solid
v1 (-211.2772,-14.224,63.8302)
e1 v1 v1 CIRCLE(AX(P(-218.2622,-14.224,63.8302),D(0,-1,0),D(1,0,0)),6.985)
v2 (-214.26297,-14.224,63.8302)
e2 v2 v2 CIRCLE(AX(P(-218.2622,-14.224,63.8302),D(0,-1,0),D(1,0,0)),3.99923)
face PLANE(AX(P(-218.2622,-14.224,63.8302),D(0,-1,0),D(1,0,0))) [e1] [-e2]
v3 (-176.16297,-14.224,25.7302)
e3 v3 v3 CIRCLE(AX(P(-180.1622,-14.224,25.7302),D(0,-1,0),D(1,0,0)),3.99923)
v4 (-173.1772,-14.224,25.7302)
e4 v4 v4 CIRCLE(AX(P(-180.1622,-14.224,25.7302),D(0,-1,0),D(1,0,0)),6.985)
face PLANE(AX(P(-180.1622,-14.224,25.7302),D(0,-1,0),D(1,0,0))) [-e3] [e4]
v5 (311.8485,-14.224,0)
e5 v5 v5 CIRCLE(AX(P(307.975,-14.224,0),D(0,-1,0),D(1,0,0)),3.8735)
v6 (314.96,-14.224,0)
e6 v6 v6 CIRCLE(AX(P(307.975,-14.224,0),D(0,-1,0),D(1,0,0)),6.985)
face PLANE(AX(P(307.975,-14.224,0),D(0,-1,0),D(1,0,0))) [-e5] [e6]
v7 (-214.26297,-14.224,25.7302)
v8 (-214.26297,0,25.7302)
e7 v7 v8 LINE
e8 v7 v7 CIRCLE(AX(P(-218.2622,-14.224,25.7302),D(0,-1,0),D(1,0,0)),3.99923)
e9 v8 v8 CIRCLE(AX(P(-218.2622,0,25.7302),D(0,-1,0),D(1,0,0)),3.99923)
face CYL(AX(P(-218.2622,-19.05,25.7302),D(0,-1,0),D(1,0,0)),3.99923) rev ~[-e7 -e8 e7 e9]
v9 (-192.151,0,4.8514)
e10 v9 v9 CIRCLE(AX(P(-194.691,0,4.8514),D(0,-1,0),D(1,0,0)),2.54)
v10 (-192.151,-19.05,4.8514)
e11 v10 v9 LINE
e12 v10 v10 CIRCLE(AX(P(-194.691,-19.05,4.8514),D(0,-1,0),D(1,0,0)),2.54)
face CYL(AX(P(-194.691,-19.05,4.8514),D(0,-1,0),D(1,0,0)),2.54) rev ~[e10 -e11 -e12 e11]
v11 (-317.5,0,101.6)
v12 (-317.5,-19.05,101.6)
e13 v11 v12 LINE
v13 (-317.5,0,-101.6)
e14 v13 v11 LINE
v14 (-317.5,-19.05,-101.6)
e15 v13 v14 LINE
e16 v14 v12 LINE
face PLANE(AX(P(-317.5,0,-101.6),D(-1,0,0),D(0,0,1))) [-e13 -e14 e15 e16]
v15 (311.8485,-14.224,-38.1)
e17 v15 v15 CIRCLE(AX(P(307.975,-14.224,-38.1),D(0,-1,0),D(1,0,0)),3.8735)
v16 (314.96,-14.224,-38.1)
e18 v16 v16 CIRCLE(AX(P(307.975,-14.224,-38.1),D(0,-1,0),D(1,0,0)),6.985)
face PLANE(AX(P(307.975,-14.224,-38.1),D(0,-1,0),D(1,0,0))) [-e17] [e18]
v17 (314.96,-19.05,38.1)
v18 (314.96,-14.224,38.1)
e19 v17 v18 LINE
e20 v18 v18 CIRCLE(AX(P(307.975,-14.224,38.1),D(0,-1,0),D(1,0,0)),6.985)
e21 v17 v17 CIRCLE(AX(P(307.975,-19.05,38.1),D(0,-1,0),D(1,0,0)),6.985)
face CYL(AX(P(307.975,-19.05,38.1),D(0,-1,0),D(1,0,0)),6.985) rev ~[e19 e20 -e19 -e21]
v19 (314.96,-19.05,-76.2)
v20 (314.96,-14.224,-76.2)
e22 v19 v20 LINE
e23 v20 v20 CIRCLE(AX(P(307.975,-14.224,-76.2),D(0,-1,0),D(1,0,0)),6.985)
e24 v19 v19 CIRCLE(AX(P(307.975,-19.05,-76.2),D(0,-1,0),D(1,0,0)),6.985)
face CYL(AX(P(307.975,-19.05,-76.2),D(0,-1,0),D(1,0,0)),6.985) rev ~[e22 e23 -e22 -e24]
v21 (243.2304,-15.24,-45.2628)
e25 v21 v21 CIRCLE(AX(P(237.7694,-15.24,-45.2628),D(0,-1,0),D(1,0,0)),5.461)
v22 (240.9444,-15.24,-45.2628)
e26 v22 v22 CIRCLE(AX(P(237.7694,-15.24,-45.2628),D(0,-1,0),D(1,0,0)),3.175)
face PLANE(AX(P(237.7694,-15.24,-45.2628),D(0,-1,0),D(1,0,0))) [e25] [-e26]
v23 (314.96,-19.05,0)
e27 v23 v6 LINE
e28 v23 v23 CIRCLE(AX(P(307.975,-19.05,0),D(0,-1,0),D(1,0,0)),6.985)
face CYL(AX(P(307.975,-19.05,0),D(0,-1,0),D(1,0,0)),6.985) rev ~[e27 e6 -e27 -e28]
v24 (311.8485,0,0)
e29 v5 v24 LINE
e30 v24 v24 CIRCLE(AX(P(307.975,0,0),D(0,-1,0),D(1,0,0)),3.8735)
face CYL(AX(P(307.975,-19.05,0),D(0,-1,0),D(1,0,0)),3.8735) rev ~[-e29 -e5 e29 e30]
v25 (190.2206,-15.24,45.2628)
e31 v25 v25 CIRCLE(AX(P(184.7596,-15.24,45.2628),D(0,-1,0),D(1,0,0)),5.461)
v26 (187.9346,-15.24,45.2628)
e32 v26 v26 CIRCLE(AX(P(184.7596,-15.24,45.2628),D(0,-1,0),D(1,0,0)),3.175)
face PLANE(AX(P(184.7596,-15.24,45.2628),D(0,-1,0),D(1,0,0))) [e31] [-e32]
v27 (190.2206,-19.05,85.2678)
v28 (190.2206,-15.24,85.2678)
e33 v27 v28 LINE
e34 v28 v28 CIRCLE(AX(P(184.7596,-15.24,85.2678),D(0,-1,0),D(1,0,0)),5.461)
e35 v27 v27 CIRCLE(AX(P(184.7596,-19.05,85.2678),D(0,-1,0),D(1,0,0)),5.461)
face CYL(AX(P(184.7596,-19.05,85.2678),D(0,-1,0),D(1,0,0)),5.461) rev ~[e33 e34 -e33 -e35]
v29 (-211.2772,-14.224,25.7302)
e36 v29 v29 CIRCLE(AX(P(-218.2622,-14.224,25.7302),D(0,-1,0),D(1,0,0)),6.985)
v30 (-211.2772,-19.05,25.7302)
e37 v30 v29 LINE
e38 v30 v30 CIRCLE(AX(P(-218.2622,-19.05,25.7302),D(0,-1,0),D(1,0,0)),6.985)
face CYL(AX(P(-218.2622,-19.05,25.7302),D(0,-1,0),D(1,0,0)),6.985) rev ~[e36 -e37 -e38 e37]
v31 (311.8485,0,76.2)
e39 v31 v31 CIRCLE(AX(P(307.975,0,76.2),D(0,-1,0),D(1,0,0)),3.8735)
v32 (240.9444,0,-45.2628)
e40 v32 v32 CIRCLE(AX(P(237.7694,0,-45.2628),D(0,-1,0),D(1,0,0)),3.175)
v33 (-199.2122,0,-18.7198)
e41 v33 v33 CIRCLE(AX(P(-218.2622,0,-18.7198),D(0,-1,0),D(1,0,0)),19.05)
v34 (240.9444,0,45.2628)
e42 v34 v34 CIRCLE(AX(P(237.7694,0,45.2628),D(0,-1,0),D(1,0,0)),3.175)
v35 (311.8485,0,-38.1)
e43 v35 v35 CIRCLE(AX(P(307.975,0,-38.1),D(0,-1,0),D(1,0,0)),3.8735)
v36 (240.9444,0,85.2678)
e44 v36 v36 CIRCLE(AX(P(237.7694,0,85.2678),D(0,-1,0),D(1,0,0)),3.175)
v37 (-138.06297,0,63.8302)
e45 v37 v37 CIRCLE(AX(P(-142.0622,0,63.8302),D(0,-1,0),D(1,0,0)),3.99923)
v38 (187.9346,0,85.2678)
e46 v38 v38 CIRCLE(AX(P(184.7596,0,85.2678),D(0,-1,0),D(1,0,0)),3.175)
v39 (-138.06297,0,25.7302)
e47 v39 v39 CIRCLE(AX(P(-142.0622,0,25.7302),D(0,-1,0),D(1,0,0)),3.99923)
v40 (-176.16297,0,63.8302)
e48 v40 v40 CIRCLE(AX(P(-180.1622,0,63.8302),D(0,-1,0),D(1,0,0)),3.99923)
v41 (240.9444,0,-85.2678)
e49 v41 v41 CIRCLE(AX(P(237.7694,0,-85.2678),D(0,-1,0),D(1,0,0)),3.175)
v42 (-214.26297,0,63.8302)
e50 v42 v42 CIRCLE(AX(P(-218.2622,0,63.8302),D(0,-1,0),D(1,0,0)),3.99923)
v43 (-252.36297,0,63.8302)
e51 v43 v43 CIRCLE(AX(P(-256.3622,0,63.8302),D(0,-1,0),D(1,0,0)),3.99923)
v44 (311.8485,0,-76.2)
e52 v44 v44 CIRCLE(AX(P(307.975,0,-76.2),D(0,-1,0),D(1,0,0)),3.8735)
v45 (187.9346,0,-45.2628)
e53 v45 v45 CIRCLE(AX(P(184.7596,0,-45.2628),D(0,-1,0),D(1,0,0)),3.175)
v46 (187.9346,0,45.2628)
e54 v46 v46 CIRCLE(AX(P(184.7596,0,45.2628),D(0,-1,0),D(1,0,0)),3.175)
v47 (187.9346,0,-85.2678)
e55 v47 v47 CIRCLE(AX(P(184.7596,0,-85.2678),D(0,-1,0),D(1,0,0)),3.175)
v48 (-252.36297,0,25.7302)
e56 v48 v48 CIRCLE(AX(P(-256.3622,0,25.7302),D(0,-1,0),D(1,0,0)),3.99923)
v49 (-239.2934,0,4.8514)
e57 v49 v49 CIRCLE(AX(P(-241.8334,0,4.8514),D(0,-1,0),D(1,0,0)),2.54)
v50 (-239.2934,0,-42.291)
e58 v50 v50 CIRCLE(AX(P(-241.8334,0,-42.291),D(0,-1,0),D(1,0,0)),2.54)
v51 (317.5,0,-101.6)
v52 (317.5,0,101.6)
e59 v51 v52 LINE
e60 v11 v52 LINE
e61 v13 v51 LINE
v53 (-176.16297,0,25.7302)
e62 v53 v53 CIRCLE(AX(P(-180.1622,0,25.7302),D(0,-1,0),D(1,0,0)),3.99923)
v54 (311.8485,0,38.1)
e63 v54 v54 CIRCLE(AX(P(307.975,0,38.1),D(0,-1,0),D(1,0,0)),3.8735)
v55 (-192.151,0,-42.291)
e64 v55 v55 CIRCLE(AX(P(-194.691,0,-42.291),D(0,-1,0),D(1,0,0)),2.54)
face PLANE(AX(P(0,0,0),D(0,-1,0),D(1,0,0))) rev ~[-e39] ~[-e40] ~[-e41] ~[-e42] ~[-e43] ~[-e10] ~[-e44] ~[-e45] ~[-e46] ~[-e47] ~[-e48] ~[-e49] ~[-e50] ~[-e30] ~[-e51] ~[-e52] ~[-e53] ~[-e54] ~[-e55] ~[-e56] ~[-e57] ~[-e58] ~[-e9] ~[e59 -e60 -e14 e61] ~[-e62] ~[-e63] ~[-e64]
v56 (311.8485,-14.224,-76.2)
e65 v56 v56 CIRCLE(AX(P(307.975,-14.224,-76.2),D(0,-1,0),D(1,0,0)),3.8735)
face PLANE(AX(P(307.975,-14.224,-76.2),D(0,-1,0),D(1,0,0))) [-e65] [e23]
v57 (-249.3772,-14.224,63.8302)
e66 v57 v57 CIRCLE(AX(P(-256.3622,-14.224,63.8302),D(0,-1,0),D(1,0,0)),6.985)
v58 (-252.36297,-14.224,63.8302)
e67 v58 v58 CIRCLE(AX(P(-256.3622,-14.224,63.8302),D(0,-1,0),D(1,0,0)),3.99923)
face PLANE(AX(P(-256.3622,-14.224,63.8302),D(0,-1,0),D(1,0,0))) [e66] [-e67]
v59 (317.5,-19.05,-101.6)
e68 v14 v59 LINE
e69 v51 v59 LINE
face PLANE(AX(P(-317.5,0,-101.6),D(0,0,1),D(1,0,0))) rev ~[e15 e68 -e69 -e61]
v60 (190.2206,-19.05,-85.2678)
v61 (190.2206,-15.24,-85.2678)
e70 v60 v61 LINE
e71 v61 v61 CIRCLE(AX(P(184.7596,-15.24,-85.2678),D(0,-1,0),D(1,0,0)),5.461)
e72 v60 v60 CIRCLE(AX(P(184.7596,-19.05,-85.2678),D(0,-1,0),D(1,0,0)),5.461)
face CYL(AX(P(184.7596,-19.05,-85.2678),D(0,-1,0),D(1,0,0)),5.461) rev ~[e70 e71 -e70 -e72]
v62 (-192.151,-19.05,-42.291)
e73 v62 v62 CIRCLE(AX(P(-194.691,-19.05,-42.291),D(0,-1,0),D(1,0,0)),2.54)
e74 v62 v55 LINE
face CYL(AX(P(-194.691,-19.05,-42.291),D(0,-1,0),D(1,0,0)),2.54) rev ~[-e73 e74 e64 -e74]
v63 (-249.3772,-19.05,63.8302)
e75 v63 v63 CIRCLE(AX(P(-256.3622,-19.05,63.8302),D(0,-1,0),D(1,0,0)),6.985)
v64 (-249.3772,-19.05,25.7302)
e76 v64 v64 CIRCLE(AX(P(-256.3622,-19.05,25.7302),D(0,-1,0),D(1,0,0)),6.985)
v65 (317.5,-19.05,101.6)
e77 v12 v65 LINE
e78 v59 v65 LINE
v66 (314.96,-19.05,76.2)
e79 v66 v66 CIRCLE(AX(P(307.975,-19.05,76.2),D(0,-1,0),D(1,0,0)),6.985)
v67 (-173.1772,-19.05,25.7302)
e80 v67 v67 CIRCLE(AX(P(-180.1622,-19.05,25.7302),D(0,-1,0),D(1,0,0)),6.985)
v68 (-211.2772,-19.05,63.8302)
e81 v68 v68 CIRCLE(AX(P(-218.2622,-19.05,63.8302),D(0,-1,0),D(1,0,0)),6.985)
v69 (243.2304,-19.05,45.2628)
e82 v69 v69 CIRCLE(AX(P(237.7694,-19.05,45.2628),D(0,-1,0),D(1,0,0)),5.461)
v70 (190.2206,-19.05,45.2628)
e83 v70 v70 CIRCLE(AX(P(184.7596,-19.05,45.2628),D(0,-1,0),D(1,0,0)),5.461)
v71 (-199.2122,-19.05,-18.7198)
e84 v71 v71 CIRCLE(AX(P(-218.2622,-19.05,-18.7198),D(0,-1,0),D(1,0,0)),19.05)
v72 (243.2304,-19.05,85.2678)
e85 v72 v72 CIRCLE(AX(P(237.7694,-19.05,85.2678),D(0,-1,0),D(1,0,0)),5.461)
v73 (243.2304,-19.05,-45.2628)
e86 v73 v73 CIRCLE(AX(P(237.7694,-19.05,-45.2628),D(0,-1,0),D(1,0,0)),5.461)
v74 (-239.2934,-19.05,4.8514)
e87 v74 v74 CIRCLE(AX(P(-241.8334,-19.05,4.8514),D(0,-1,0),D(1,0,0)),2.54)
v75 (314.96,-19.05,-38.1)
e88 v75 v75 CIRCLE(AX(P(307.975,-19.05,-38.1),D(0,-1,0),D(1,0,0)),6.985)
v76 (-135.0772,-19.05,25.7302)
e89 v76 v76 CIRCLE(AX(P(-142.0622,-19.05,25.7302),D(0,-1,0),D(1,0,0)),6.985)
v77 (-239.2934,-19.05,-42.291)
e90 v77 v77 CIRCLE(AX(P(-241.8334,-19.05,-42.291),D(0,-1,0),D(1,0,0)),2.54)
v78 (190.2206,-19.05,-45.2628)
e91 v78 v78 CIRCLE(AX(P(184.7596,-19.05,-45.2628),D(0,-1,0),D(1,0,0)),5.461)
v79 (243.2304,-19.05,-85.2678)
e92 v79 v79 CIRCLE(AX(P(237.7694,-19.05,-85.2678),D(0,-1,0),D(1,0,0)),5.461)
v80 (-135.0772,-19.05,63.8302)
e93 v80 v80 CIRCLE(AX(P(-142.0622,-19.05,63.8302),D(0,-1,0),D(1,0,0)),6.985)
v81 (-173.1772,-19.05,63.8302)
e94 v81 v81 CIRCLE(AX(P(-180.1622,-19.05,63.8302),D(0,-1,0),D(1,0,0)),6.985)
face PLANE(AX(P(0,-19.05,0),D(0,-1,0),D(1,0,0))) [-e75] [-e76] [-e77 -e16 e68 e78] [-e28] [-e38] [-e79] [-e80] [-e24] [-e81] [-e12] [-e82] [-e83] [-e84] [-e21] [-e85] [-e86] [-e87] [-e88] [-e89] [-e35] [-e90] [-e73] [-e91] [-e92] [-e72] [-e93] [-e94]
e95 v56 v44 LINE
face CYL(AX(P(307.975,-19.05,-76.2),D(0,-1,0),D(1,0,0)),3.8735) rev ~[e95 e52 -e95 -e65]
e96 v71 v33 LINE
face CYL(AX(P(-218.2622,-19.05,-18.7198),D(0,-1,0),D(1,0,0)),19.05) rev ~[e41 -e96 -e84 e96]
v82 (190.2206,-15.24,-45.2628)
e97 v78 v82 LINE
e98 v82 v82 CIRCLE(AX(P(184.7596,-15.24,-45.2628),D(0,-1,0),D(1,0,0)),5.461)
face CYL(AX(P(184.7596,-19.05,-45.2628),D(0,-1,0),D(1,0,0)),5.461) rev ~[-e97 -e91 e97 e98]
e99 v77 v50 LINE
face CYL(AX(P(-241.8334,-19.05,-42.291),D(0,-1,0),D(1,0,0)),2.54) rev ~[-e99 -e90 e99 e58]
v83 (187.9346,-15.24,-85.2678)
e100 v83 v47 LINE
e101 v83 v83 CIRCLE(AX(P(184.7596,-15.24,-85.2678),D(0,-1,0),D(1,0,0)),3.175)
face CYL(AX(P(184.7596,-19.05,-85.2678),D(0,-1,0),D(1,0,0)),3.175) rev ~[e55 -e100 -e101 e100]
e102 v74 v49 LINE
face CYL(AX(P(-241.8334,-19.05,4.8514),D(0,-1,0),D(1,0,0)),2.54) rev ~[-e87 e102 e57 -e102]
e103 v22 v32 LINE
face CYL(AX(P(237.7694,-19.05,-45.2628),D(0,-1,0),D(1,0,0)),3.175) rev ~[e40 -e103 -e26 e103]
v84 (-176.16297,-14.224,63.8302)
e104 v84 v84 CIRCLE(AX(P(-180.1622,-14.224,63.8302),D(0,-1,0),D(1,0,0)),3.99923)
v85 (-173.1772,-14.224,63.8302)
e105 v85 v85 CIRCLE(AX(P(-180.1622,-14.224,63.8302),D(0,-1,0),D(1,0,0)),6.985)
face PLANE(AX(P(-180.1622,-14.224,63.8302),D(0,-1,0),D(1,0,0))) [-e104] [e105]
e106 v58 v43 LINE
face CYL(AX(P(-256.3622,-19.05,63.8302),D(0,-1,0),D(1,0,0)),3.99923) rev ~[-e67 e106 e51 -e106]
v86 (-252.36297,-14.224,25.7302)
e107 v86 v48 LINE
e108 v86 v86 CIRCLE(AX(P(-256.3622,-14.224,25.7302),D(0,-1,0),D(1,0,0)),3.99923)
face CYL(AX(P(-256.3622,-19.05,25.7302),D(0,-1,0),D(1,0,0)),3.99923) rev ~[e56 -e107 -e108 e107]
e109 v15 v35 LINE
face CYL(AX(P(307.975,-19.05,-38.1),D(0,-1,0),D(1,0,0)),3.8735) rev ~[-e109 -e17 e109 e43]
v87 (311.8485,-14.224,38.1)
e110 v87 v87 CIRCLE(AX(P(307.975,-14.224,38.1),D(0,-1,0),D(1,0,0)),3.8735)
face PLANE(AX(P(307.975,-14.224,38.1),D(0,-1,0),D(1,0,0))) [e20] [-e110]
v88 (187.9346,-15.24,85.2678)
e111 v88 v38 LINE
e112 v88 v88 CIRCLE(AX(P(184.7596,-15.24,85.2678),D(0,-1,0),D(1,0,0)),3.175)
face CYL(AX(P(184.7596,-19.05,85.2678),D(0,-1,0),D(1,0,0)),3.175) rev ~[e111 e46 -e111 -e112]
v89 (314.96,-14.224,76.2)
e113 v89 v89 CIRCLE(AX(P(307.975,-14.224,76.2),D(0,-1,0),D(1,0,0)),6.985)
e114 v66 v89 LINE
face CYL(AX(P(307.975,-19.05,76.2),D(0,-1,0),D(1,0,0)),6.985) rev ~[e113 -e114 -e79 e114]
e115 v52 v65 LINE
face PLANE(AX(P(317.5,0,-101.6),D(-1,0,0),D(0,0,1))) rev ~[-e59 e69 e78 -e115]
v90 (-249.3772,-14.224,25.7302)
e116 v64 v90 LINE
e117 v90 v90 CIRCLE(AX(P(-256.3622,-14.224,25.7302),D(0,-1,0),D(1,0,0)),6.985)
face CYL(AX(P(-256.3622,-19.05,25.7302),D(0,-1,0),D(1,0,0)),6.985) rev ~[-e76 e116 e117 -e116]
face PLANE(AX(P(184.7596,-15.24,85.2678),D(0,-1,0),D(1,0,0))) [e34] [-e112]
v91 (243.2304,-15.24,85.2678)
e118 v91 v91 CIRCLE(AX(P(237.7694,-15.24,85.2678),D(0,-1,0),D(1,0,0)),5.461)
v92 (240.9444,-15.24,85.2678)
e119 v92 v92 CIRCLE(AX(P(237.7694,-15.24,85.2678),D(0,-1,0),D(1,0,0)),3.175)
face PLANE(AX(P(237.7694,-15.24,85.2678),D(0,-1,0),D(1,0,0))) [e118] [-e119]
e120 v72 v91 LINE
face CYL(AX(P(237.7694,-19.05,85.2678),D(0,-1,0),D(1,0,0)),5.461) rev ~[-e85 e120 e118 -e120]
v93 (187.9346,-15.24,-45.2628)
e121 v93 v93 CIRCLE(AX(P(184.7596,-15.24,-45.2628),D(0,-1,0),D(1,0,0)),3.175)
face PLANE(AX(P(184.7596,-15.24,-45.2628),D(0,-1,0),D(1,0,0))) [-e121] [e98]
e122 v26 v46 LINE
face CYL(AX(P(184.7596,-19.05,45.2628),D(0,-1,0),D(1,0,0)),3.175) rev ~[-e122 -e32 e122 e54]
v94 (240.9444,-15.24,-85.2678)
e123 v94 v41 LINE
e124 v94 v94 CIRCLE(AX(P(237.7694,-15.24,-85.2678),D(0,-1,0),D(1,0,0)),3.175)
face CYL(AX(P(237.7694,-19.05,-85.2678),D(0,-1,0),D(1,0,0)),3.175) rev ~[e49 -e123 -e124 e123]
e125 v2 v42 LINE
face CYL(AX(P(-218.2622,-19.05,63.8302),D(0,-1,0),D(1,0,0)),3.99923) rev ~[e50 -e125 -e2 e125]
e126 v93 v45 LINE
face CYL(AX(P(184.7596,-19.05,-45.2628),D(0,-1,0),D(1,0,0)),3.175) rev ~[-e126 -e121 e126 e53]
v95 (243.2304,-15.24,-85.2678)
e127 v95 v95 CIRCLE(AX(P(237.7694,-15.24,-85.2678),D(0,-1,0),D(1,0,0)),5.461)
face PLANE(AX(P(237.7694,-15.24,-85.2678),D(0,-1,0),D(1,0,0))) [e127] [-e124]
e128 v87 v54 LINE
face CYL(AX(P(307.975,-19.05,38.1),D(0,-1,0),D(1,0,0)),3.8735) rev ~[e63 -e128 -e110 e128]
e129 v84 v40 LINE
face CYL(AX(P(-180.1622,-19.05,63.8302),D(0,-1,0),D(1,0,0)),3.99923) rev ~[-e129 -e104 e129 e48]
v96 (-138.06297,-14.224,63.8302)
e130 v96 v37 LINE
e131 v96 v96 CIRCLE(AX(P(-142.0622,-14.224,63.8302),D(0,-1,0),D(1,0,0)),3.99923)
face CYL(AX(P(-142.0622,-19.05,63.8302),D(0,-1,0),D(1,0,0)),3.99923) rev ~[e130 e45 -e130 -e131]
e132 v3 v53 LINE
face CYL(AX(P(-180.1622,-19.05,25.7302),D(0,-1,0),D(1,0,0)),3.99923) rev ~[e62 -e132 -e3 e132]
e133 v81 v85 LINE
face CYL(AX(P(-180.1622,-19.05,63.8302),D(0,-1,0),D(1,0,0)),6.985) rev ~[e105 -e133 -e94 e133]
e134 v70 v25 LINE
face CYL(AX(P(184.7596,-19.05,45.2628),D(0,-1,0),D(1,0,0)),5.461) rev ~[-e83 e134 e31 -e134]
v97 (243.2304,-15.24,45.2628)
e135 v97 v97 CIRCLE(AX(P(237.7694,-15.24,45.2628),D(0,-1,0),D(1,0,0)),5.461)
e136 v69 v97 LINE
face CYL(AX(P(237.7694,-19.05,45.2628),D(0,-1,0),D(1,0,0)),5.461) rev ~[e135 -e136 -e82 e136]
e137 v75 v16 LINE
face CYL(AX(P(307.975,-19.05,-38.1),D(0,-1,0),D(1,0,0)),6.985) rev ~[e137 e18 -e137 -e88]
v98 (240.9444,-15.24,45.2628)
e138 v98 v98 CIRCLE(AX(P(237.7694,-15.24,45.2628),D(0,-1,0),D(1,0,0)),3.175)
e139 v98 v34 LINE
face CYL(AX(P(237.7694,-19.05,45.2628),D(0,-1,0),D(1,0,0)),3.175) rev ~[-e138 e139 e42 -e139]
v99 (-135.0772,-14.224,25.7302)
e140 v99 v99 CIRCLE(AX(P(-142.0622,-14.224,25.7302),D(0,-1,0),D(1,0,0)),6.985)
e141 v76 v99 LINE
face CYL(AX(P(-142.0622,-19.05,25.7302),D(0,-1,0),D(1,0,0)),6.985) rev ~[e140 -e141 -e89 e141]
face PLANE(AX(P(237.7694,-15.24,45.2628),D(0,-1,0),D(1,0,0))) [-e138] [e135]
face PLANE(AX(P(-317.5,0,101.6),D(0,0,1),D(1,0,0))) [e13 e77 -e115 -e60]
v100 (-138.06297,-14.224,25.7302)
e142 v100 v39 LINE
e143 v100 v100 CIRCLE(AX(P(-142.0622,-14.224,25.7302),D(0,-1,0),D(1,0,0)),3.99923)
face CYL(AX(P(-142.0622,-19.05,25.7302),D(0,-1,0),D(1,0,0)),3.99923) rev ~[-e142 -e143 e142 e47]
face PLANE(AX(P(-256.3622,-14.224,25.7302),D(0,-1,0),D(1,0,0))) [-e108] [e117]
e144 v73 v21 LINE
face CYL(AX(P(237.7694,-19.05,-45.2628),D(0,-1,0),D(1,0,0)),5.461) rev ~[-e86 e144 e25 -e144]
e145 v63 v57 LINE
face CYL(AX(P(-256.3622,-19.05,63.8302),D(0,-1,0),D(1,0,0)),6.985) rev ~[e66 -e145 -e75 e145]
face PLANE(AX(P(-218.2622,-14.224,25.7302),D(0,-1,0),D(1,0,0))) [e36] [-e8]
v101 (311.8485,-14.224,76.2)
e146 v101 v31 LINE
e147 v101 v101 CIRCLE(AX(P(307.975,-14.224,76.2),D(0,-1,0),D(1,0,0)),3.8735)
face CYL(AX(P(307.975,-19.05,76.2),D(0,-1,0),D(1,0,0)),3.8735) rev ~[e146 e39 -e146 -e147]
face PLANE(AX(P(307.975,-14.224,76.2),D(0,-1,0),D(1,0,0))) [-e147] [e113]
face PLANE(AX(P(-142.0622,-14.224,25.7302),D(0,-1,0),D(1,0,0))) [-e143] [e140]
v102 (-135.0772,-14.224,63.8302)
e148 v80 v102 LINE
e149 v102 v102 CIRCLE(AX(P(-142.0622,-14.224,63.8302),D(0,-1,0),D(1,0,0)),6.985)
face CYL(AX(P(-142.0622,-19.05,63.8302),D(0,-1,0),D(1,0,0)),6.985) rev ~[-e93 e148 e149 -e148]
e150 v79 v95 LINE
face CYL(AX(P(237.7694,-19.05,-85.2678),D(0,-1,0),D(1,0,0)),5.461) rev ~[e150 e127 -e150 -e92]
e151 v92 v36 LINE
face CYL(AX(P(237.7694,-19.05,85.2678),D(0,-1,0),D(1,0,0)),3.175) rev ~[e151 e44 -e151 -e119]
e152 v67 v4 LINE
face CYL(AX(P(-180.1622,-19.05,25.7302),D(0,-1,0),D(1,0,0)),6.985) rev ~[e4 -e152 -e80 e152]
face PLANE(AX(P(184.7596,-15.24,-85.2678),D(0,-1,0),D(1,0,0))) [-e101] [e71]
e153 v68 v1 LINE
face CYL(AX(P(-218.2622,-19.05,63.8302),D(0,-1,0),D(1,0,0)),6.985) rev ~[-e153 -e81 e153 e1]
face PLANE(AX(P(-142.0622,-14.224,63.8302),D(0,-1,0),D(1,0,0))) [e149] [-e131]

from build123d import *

# Parameters (mm, degrees)
F0_W      = 635
F0_H      = 203.2
F1_DEPTH  = 19.05
F2_R      = 3.99923
F3_DEPTH  = 19.051
F4_R      = 19.05
F4_R_2    = 2.54
F5_DEPTH  = 19.051
F6_R      = 3.175
F7_DEPTH  = 19.051
F8_R      = 3.8735
F9_DEPTH  = 19.051
F10_R     = 6.985
F11_DEPTH = 4.826
F12_R     = 5.461
F13_DEPTH = 3.81


with BuildPart() as f1:
    # F0 (on Front) → F1 (new body)
    with BuildSketch(Plane.XZ):
        Rectangle(F0_W, F0_H)
    extrude(amount=F1_DEPTH)

    # F2 (on face) → F3 (cut, through all)
    with BuildSketch(Plane.XZ.offset(19.05)):
        with Locations((-256.3622, 63.8302)):
            Circle(F2_R)
        with Locations((-218.2622, 63.8302)):
            Circle(F2_R)
        with Locations((-180.1622, 63.8302)):
            Circle(F2_R)
        with Locations((-142.0622, 63.8302)):
            Circle(F2_R)
        with Locations((-142.0622, 25.7302)):
            Circle(F2_R)
        with Locations((-180.1622, 25.7302)):
            Circle(F2_R)
        with Locations((-218.2622, 25.7302)):
            Circle(F2_R)
        with Locations((-256.3622, 25.7302)):
            Circle(F2_R)
    extrude(amount=-F3_DEPTH, mode=Mode.SUBTRACT)

    # F4 (on face) → F5 (cut, through all)
    with BuildSketch(Plane.XZ.offset(19.05)):
        with Locations((-218.2622, -18.7198)):
            Circle(F4_R)
        with Locations((-241.8334, 4.8514)):
            Circle(F4_R_2)
        with Locations((-194.691, 4.8514)):
            Circle(F4_R_2)
        with Locations((-194.691, -42.291)):
            Circle(F4_R_2)
        with Locations((-241.8334, -42.291)):
            Circle(F4_R_2)
    extrude(amount=-F5_DEPTH, mode=Mode.SUBTRACT)

    # F6 (on face) → F7 (cut, through all)
    with BuildSketch(Plane.XZ.offset(19.05)):
        with Locations((184.7596, 85.2678)):
            Circle(F6_R)
        with Locations((237.7694, 85.2678)):
            Circle(F6_R)
        with Locations((184.7596, 45.2628)):
            Circle(F6_R)
        with Locations((237.7694, 45.2628)):
            Circle(F6_R)
        with Locations((184.7596, -45.2628)):
            Circle(F6_R)
        with Locations((237.7694, -45.2628)):
            Circle(F6_R)
        with Locations((184.7596, -85.2678)):
            Circle(F6_R)
        with Locations((237.7694, -85.2678)):
            Circle(F6_R)
    extrude(amount=-F7_DEPTH, mode=Mode.SUBTRACT)

    # F8 (on face) → F9 (cut, through all)
    with BuildSketch(Plane.XZ.offset(19.05)):
        with Locations((307.975, 76.2)):
            Circle(F8_R)
        with Locations((307.975, 38.1)):
            Circle(F8_R)
        with Locations((307.975, 0)):
            Circle(F8_R)
        with Locations((307.975, -38.1)):
            Circle(F8_R)
        with Locations((307.975, -76.2)):
            Circle(F8_R)
    extrude(amount=-F9_DEPTH, mode=Mode.SUBTRACT)

    # F10 (on face) → F11 (cut)
    with BuildSketch(Plane.XZ.offset(19.05)):
        with Locations((-256.3622, 63.8302)):
            Circle(F10_R)
        with Locations((-256.3622, 25.7302)):
            Circle(F10_R)
        with Locations((-218.2622, 25.7302)):
            Circle(F10_R)
        with Locations((-218.2622, 63.8302)):
            Circle(F10_R)
        with Locations((-180.1622, 63.8302)):
            Circle(F10_R)
        with Locations((-142.0622, 63.8302)):
            Circle(F10_R)
        with Locations((-180.1622, 25.7302)):
            Circle(F10_R)
        with Locations((-142.0622, 25.7302)):
            Circle(F10_R)
        with Locations((307.975, -76.2)):
            Circle(F10_R)
        with Locations((307.975, -38.1)):
            Circle(F10_R)
        with Locations((307.975, 0)):
            Circle(F10_R)
        with Locations((307.975, 38.1)):
            Circle(F10_R)
        with Locations((307.975, 76.2)):
            Circle(F10_R)
    extrude(amount=-F11_DEPTH, mode=Mode.SUBTRACT)

    # F12 (on face) → F13 (cut)
    with BuildSketch(Plane.XZ.offset(19.05)):
        with Locations((184.7596, 85.2678)):
            Circle(F12_R)
        with Locations((184.7596, 45.2628)):
            Circle(F12_R)
        with Locations((184.7596, -45.2628)):
            Circle(F12_R)
        with Locations((184.7596, -85.2678)):
            Circle(F12_R)
        with Locations((237.7694, -85.2678)):
            Circle(F12_R)
        with Locations((237.7694, -45.2628)):
            Circle(F12_R)
        with Locations((237.7694, 45.2628)):
            Circle(F12_R)
        with Locations((237.7694, 85.2678)):
            Circle(F12_R)
    extrude(amount=-F13_DEPTH, mode=Mode.SUBTRACT)


solid = f1.part
